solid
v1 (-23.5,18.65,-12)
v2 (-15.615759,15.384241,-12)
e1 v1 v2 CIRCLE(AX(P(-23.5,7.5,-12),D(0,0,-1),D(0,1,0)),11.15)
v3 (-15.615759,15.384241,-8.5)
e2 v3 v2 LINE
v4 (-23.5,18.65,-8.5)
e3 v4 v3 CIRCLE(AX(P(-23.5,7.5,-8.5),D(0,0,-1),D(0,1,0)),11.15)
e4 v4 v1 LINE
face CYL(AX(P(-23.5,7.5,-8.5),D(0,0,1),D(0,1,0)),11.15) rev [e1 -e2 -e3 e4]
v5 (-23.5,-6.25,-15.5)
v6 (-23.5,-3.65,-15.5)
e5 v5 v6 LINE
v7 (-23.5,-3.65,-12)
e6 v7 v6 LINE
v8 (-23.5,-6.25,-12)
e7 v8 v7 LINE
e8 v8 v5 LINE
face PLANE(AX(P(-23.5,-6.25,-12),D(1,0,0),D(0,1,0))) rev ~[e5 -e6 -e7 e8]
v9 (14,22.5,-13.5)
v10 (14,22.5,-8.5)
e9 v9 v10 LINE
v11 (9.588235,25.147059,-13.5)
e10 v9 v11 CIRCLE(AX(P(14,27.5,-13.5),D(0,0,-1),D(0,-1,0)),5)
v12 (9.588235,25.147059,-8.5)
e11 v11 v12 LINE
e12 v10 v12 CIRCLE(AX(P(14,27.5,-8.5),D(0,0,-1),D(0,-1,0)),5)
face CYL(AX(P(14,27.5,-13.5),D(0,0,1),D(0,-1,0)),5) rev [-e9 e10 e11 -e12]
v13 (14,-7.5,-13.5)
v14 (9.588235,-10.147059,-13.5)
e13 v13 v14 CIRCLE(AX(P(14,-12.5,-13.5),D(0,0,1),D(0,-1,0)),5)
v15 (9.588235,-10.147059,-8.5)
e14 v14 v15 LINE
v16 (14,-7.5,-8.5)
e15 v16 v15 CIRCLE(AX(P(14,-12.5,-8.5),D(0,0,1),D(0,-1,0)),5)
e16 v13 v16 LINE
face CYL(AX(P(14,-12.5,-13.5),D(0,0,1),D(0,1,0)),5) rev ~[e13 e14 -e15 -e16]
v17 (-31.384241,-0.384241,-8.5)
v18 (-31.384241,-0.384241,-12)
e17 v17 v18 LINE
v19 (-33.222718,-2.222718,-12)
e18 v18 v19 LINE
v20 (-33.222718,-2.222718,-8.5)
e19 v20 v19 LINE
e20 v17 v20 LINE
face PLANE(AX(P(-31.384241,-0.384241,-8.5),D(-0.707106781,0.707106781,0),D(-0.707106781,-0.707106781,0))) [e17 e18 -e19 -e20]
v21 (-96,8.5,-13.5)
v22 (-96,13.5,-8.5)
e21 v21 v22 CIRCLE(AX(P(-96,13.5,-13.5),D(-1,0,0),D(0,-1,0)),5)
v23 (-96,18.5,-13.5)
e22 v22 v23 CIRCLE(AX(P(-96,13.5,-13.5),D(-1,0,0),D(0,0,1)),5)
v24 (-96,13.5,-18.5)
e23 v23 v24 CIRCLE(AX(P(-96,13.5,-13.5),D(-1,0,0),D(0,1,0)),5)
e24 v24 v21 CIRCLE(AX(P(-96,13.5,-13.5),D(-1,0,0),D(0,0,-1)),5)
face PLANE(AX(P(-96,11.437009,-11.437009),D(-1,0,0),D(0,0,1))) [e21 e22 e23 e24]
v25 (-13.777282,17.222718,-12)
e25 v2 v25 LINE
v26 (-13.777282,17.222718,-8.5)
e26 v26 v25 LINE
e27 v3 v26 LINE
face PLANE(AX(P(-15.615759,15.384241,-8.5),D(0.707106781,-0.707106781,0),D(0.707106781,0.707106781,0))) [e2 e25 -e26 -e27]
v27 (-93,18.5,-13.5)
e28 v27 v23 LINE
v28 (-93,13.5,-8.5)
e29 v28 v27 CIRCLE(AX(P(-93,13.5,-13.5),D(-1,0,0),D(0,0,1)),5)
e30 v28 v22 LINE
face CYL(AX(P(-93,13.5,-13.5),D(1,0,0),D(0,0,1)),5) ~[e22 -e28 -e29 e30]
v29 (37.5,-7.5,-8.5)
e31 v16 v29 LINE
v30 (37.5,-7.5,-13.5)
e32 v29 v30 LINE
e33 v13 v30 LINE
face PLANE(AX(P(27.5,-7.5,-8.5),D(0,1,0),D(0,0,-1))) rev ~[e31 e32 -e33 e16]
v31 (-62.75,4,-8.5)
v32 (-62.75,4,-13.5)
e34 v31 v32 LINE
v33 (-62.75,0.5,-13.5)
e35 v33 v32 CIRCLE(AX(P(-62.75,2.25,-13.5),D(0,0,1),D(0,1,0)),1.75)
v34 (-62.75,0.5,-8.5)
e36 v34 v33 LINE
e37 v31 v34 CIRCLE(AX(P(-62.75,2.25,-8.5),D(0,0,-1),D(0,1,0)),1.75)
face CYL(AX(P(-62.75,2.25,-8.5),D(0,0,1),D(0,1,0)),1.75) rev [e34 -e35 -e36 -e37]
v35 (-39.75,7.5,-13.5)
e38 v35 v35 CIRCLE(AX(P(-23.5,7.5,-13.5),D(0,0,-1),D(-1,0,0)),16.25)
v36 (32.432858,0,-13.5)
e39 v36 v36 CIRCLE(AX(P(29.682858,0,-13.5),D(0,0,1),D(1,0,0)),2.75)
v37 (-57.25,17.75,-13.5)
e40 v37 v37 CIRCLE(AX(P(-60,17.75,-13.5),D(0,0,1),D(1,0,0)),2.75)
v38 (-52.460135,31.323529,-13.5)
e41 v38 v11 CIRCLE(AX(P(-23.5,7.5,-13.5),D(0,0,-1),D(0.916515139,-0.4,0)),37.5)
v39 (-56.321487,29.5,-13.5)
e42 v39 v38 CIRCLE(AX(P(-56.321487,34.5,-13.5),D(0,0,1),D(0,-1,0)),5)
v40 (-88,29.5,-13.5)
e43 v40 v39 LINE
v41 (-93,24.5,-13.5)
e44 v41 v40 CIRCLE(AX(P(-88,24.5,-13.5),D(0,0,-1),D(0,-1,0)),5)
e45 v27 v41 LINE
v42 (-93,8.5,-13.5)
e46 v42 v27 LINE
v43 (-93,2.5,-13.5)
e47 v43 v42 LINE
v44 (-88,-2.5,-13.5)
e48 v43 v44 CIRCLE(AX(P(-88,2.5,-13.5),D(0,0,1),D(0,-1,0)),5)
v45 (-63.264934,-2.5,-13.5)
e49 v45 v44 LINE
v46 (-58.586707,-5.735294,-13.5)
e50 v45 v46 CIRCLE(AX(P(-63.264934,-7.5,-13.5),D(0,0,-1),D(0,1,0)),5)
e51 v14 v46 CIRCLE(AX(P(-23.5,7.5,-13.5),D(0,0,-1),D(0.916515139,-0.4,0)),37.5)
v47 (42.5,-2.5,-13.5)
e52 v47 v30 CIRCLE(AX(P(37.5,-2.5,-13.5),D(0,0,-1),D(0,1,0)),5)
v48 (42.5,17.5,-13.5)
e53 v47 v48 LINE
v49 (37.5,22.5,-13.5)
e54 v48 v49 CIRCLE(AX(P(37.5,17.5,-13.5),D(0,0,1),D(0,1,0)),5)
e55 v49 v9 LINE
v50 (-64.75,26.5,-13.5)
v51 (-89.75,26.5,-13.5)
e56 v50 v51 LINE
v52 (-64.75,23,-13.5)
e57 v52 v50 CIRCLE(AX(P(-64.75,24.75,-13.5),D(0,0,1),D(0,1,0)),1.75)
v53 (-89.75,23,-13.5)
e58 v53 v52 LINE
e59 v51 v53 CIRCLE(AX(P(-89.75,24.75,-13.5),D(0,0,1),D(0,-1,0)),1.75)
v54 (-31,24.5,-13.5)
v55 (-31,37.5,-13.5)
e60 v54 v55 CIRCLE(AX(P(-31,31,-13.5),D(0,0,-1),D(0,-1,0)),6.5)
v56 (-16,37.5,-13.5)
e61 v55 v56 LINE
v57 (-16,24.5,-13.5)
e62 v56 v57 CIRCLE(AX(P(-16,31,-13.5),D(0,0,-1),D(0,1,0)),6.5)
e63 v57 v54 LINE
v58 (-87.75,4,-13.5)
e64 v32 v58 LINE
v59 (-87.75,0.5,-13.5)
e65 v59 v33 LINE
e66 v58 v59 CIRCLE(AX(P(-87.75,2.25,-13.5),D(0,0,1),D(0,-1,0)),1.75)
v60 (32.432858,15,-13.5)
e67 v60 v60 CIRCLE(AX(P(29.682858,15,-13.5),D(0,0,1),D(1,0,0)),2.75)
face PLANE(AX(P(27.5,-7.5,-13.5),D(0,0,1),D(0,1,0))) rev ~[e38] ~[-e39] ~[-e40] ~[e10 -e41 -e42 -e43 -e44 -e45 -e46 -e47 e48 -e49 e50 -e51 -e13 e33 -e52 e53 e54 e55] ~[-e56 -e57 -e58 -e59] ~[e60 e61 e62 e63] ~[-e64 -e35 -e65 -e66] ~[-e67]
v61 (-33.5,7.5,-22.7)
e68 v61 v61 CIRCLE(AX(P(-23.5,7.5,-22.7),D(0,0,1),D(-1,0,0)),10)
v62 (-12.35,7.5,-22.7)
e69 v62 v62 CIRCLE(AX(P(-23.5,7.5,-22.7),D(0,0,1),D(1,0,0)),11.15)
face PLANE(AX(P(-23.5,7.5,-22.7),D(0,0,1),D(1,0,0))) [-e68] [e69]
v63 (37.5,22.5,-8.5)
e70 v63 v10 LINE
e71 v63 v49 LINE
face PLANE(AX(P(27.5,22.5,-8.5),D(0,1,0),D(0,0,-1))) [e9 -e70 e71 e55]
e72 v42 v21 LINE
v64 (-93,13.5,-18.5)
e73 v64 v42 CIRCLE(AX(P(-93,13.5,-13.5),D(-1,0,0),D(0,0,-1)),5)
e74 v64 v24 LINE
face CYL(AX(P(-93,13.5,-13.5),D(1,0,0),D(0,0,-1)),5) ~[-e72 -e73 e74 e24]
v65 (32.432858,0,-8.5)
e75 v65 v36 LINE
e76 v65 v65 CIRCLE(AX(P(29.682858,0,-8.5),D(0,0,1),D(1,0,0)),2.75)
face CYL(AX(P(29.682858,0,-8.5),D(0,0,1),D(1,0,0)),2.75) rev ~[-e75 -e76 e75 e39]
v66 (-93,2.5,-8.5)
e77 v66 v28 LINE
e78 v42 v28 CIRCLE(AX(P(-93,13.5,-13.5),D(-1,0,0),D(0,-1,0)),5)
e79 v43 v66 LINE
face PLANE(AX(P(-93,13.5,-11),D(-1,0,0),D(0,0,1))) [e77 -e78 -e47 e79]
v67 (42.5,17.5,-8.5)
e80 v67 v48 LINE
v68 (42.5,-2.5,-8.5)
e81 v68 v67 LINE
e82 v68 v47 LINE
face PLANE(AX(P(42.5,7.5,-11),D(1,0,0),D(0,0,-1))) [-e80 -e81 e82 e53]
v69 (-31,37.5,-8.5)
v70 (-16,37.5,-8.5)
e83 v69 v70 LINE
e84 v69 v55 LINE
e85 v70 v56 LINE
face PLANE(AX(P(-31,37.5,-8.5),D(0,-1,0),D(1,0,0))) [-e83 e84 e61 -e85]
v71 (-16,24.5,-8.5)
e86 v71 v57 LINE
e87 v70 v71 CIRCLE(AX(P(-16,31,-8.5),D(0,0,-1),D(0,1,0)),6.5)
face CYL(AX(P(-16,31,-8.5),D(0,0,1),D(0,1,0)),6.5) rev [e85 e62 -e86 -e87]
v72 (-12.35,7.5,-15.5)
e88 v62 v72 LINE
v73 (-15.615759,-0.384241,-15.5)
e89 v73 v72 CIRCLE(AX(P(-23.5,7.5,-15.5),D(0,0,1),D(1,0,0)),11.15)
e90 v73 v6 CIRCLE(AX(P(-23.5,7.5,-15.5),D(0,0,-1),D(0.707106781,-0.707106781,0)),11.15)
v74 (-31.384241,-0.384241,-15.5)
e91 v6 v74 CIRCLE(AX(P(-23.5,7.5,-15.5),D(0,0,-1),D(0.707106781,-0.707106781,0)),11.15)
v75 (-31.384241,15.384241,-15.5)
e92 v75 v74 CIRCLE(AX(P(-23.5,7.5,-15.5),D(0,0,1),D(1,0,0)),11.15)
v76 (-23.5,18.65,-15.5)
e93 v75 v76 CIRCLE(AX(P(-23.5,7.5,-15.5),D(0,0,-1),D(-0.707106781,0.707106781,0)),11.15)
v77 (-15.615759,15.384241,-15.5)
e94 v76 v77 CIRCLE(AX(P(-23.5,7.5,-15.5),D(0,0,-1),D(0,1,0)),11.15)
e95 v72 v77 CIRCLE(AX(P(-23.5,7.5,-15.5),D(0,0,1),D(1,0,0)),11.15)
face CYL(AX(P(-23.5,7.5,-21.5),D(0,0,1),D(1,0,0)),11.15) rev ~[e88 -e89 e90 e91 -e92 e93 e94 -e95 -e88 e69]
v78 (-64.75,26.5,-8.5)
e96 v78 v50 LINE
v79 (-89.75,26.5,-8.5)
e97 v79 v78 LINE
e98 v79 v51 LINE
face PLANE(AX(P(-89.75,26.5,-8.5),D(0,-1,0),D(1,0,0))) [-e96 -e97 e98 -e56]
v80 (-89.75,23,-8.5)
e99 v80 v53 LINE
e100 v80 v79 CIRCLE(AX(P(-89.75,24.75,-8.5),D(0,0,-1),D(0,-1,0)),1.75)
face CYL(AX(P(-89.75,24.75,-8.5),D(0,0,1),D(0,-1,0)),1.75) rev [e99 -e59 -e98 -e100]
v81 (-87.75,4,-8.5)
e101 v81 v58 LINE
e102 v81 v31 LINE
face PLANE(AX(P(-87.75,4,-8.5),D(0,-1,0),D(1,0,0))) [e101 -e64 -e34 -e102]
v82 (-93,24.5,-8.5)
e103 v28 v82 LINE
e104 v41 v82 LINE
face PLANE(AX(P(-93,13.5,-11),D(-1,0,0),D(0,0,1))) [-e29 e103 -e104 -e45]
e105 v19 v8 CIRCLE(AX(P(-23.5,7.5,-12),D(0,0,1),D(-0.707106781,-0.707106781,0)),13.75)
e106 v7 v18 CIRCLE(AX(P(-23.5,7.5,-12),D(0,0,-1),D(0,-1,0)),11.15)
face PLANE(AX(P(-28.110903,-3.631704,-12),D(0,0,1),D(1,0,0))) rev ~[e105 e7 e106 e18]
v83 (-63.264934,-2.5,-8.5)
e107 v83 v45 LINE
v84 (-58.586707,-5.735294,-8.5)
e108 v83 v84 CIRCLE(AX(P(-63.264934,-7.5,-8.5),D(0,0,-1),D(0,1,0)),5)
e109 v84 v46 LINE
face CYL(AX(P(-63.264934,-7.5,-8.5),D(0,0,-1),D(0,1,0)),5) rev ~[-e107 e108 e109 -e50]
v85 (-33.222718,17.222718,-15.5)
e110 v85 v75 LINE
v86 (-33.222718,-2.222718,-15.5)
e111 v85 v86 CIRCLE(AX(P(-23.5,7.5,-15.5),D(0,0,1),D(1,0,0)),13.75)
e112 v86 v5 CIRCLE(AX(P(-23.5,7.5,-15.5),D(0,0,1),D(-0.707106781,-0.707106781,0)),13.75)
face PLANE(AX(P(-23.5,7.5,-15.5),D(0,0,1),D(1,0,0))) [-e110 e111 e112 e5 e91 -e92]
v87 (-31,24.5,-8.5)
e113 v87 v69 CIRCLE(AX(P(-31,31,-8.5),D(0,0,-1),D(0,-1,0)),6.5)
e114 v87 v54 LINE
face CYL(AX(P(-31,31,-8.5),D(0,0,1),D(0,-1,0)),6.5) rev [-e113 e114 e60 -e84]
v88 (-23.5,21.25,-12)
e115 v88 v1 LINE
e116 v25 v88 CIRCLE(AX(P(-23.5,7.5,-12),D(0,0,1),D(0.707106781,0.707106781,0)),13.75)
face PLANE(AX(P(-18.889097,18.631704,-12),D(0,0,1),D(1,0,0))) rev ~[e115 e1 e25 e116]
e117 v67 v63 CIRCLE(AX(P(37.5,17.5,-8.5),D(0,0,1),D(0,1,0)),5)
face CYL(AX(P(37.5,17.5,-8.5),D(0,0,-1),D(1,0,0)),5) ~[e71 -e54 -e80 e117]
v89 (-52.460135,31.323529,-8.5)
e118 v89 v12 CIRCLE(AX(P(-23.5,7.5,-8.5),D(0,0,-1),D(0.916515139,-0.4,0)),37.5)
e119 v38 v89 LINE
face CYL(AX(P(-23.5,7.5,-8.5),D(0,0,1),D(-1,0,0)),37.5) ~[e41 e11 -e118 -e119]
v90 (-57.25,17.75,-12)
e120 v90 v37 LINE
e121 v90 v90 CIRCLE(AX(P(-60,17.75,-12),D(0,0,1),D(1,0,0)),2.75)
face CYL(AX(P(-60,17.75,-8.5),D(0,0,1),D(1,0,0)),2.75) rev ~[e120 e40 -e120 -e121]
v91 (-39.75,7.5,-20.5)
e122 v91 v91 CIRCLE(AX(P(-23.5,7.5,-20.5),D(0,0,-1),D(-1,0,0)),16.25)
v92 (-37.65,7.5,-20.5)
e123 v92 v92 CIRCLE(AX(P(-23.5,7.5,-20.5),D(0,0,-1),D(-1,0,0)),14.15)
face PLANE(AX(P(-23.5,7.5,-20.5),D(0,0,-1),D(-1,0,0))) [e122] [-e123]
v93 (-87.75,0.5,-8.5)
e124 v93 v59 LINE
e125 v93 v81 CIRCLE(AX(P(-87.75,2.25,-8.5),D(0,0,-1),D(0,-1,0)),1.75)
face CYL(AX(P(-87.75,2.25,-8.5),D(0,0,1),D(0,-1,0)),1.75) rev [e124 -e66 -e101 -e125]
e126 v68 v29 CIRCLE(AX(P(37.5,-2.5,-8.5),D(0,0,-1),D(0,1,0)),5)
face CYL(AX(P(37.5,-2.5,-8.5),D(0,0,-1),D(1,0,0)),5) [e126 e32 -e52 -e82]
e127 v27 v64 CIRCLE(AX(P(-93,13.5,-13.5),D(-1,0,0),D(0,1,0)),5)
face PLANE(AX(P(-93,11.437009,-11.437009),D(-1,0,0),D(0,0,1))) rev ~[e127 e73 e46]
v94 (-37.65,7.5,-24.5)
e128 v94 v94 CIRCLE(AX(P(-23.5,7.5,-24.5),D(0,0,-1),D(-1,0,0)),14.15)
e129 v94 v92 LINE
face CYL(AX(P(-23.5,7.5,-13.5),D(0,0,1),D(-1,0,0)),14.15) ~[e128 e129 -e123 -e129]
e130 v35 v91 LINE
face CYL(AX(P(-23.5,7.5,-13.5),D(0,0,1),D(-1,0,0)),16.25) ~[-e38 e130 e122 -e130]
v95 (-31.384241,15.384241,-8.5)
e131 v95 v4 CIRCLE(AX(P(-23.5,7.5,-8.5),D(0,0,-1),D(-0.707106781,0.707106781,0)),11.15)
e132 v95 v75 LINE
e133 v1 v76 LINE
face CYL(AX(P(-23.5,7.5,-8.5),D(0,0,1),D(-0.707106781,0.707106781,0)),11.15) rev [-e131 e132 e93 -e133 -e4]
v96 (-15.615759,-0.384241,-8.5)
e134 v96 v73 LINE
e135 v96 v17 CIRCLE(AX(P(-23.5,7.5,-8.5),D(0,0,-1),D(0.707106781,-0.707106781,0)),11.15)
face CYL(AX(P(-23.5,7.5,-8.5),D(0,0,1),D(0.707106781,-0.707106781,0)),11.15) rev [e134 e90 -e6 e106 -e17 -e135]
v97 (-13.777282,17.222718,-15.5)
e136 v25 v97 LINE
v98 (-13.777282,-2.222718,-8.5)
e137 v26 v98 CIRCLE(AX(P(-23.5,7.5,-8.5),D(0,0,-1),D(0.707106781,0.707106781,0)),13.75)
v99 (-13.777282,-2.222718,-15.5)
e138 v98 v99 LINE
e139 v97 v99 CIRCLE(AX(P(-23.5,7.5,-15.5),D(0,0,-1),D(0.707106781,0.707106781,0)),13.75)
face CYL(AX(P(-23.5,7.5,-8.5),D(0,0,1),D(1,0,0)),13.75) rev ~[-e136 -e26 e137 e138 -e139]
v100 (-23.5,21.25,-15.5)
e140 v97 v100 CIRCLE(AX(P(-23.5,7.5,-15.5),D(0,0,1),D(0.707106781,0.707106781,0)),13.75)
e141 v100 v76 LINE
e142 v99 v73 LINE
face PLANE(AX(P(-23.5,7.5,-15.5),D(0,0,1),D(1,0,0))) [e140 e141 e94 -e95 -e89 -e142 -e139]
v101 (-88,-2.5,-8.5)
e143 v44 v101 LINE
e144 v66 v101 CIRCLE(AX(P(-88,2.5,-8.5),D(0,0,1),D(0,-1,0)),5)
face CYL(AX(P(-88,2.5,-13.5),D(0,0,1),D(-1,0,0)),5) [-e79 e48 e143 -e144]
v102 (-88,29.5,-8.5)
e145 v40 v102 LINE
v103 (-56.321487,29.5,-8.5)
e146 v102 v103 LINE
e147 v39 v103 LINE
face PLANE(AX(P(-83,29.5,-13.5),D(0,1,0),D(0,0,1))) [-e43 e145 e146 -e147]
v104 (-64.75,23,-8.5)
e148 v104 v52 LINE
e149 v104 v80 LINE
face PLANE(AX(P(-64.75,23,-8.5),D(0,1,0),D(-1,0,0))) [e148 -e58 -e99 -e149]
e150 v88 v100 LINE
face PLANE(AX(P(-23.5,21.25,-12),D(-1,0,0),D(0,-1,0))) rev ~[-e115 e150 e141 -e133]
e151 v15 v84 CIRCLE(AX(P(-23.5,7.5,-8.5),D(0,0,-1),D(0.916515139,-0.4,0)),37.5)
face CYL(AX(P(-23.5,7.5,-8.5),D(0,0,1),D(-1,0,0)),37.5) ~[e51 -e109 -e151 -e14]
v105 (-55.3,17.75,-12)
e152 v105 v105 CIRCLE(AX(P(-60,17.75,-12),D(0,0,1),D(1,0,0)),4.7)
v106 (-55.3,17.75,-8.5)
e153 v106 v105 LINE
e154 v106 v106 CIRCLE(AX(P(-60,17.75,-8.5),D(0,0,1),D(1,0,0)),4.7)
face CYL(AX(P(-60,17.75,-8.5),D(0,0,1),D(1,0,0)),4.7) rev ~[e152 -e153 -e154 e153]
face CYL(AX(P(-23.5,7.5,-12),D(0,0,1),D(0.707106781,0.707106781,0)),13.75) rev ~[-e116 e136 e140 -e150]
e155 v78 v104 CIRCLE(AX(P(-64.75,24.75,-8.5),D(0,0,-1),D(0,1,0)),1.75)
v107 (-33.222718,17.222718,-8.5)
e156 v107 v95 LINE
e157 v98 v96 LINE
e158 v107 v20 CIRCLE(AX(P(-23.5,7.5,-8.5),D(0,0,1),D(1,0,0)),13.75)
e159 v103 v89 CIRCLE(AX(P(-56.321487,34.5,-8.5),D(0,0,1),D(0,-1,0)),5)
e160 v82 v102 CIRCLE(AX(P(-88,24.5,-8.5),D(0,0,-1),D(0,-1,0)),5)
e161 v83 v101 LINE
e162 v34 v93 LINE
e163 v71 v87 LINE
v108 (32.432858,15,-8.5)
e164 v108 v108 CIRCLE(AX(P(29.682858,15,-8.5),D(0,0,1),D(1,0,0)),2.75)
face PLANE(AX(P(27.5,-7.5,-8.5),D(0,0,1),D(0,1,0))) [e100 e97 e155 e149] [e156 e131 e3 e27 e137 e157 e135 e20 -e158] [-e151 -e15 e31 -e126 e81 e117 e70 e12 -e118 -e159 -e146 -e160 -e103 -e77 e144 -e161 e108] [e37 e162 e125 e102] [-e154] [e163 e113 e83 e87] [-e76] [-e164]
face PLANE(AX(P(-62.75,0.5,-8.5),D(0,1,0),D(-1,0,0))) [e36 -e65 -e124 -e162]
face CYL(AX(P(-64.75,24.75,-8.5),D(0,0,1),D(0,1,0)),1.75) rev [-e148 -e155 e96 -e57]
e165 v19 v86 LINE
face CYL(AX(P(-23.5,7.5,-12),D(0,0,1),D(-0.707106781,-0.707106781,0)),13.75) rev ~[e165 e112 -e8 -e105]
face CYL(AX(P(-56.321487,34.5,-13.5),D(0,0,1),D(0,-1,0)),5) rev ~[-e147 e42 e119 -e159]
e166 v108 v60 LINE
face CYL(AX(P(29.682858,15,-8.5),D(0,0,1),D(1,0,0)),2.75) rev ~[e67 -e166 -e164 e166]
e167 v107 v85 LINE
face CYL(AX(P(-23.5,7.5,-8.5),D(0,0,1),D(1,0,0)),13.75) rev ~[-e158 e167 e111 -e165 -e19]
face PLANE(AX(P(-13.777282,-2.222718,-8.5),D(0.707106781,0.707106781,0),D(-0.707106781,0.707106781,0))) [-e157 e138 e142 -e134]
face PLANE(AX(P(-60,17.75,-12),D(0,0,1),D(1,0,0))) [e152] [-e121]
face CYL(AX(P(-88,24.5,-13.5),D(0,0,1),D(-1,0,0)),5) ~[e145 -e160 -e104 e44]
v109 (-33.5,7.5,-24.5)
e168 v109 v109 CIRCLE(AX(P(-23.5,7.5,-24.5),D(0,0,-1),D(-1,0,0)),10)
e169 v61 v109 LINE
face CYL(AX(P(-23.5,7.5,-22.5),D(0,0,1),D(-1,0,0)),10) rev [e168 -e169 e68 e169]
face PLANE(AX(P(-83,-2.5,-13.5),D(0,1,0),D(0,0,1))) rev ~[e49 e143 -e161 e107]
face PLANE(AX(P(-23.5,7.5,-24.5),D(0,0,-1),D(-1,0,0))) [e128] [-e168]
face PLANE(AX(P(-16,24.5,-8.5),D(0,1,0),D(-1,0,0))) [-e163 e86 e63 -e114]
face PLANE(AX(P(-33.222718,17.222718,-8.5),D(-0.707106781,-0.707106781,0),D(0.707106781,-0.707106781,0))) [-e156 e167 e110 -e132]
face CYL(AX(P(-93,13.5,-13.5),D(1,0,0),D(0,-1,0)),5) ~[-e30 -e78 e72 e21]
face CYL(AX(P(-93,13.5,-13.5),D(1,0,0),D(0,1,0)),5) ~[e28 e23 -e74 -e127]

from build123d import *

# Parameters (mm, degrees)
SKETCH2_R                = 37.5
SKETCH2_R_2              = 4.2
BOSS_EXTRUDE1_DEPTH      = 5
SKETCH3_R                = 11.15
CUT_EXTRUDE1_DEPTH       = 76.967098141
SKETCH5_R                = 14.15
SKETCH5_R_2              = 11.15
BOSS_EXTRUDE2_DEPTH      = 10
BOSS_EXTRUDE3_START      = -2
SKETCH6_R                = 14.15
SKETCH6_R_2              = 9
BOSS_EXTRUDE3_DEPTH      = 2
SKETCH7_R                = 11.15
CUT_EXTRUDE2_DEPTH       = 10
SKETCH8_R                = 14.15
SKETCH8_R_2              = 10
BOSS_EXTRUDE4_DEPTH      = 2
BOSS_EXTRUDE5_DEPTH      = 5
BOSS_EXTRUDE5_DEPTH_BACK = 5
SKETCH10_W               = 10
SKETCH10_H               = 30
BOSS_EXTRUDE6_DEPTH      = 10
CUT_EXTRUDE3_START       = -5
CUT_EXTRUDE3_DEPTH       = 5
SKETCH12_R               = 2.75
CUT_EXTRUDE4_DEPTH       = 78.472575793
BOSS_EXTRUDE7_DEPTH      = 5
SKETCH15_R               = 13.75
CUT_EXTRUDE5_DEPTH       = 7
SKETCH17_R               = 16.25
SKETCH17_R_2             = 14.15
BOSS_EXTRUDE8_DEPTH      = 7
BOSS_EXTRUDE9_START      = 7
BOSS_EXTRUDE9_DEPTH      = 7
CUT_EXTRUDE7_START       = 3.5
CUT_EXTRUDE7_DEPTH       = 3.5
SKETCH20_R               = 11.15
CUT_EXTRUDE8_DEPTH       = 0.2
BOSS_EXTRUDE10_DEPTH     = 5
SKETCH22_W               = 5
SKETCH22_H               = 20
BOSS_EXTRUDE11_DEPTH     = 7
SKETCH23_W               = 23.357919263
SKETCH23_H               = 5
BOSS_EXTRUDE12_DEPTH     = 12
SKETCH24_W               = 5
SKETCH24_H               = 12
BOSS_EXTRUDE13_DEPTH     = 12
SKETCH25_W               = 5
SKETCH25_H               = 32
BOSS_EXTRUDE14_DEPTH     = 10
CUT_EXTRUDE9_DEPTH       = 105.546640309
FILLET2_R                = 5
SKETCH27_W               = 14.087346568
SKETCH27_H               = 5
CUT_EXTRUDE10_DEPTH      = 110.569612576
SKETCH28_R               = 2.75
BOSS_EXTRUDE15_DEPTH     = 5
SKETCH29_W               = 5
SKETCH29_H               = 30
BOSS_EXTRUDE16_DEPTH     = 15
SKETCH30_R               = 2.75
CUT_EXTRUDE12_DEPTH      = 15
FILLET3_R                = 5
BOSS_EXTRUDE18_DEPTH     = 3
SKETCH34_R               = 2.75
CUT_EXTRUDE13_DEPTH      = 108.224064463
SKETCH35_R               = 4.7
CUT_EXTRUDE14_DEPTH      = 3.5


with BuildPart() as part:
    # Sketch2 → Boss-Extrude1 (new body)
    with BuildSketch(Plane(origin=(0, 0, -8.5), x_dir=(-1, 0, 0), z_dir=(0, 0, -1))):
        with Locations((23.5, 7.5)):
            Circle(SKETCH2_R)
        with Locations((23.5, 7.5)):
            Circle(SKETCH2_R_2, mode=Mode.SUBTRACT)
        with BuildLine():
            ThreePointArc((31, 24.5), (37.5, 31), (31, 37.5))
            Line((31, 37.5), (16, 37.5))
            ThreePointArc((16, 37.5), (9.5, 31), (16, 24.5))
            Line((16, 24.5), (31, 24.5))
        make_face(mode=Mode.SUBTRACT)
    extrude(amount=BOSS_EXTRUDE1_DEPTH)

    # Sketch3 → Cut-Extrude1 (cut, through all)
    with BuildSketch(Plane.XY.offset(-8.5)):
        with Locations((-23.5, 7.5)):
            Circle(SKETCH3_R)
    extrude(amount=-CUT_EXTRUDE1_DEPTH, mode=Mode.SUBTRACT)

    # Sketch5 → Boss-Extrude2 (add)
    with BuildSketch(Plane(origin=(0, 0, -13.5), x_dir=(-1, 0, 0), z_dir=(0, 0, -1))):
        with Locations((23.5, 7.5)):
            Circle(SKETCH5_R)
        with Locations(Location((23.5, 7.5, 0), (0, 0, 180))):
            Circle(SKETCH5_R_2, mode=Mode.SUBTRACT)
    extrude(amount=BOSS_EXTRUDE2_DEPTH)

    # Sketch6 → Boss-Extrude3 (add)
    with BuildSketch(Plane(origin=(0, 0, -23.5), x_dir=(-1, 0, 0), z_dir=(0, 0, -1)).offset(BOSS_EXTRUDE3_START)):
        with Locations((23.5, 7.5)):
            Circle(SKETCH6_R)
        with Locations((23.5, 7.5)):
            Circle(SKETCH6_R_2, mode=Mode.SUBTRACT)
    extrude(amount=BOSS_EXTRUDE3_DEPTH)

    # Sketch7 → Cut-Extrude2 (cut)
    with BuildSketch(Plane.XY.offset(-21.5)):
        with Locations((-23.5, 7.5)):
            Circle(SKETCH7_R)
    extrude(amount=-CUT_EXTRUDE2_DEPTH, mode=Mode.SUBTRACT)

    # Sketch8 → Boss-Extrude4 (add)
    with BuildSketch(Plane(origin=(0, 0, -22.5), x_dir=(-1, 0, 0), z_dir=(0, 0, -1))):
        with Locations((23.5, 7.5)):
            Circle(SKETCH8_R)
        with Locations((23.5, 7.5)):
            Circle(SKETCH8_R_2, mode=Mode.SUBTRACT)
    extrude(amount=BOSS_EXTRUDE4_DEPTH)

    # Sketch9 → Boss-Extrude5 (add, two sides: drawn at the far end of the back side and taken through both)
    with BuildSketch(Plane.XY.offset(-8.5).offset(-BOSS_EXTRUDE5_DEPTH_BACK)):
        with BuildLine():
            Line((17.5, 22.5), (10.869317712, 22.5))
            ThreePointArc((10.869317712, 22.5), (13.208986735, 15.161611638), (14, 7.5))
            ThreePointArc((14, 7.5), (13.208986735, -0.161611638), (10.869317712, -7.5))
            Line((10.869317712, -7.5), (17.5, -7.5))
            Line((17.5, -7.5), (17.5, 22.5))
        make_face()
        with BuildLine():
            Line((10.869317712, 22.5), (8.122776602, 22.5))
            ThreePointArc((8.122776602, 22.5), (10.645257219, 15.187744108), (11.5, 7.5))
            ThreePointArc((11.5, 7.5), (10.645257219, -0.187744108), (8.122776602, -7.5))
            Line((8.122776602, -7.5), (10.869317712, -7.5))
            ThreePointArc((10.869317712, -7.5), (13.208986735, -0.161611638), (14, 7.5))
            ThreePointArc((14, 7.5), (13.208986735, 15.161611638), (10.869317712, 22.5))
        make_face()
    extrude(amount=BOSS_EXTRUDE5_DEPTH + BOSS_EXTRUDE5_DEPTH_BACK)

    # Sketch10 → Boss-Extrude6 (add)
    with BuildSketch(Plane(origin=(17.5, 0, 0), x_dir=(0, 0, -1), z_dir=(1, 0, 0))):
        with Locations((8.5, 7.5)):
            Rectangle(SKETCH10_W, SKETCH10_H)
    extrude(amount=BOSS_EXTRUDE6_DEPTH)

    # Sketch11 → Cut-Extrude3 (cut)
    with BuildSketch(Plane.XY.offset(-3.5).offset(CUT_EXTRUDE3_START)):
        with BuildLine():
            Line((27.5, 22.5), (8.122776602, 22.5))
            ThreePointArc((8.122776602, 22.5), (11.5, 7.5), (8.122776602, -7.5))
            Line((8.122776602, -7.5), (27.5, -7.5))
            Line((27.5, -7.5), (27.5, 22.5))
        make_face()
    extrude(amount=CUT_EXTRUDE3_DEPTH, mode=Mode.SUBTRACT)

    # Sketch12 → Cut-Extrude4 (cut, through all)
    with BuildSketch(Plane.XY.offset(-8.5)):
        with Locations((17.5, 15)):
            Circle(SKETCH12_R)
        with Locations((17.5, 0)):
            Circle(SKETCH12_R)
    extrude(amount=-CUT_EXTRUDE4_DEPTH, mode=Mode.SUBTRACT)

    # Sketch13 → Boss-Extrude7 (add)
    # profile 1 of 2: a face of its own
    with BuildSketch(Plane(origin=(0, 0, -13.5), x_dir=(-1, 0, 0), z_dir=(0, 0, -1))):
        Polygon((-21.021836642, -6.1), (-13.978163358, -6.1), (-10.456326716, 0), (-13.978163358, 6.1), (-21.021836642, 6.1), (-24.543673284, 0), align=None)
        Polygon((-22.234272207, 0), (-19.867136104, -4.1), (-15.132863896, -4.1), (-12.765727793, 0), (-15.132863896, 4.1), (-19.867136104, 4.1), align=None, mode=Mode.SUBTRACT)
    # profile 2 of 2: a face of its own
    with BuildSketch(Plane(origin=(0, 0, -13.5), x_dir=(-1, 0, 0), z_dir=(0, 0, -1))):
        Polygon((-21.021836642, 8.9), (-13.978163358, 8.9), (-10.456326716, 15), (-13.978163358, 21.1), (-21.021836642, 21.1), (-24.543673284, 15), align=None)
        Polygon((-22.234272207, 15), (-19.867136104, 10.9), (-15.132863896, 10.9), (-12.765727793, 15), (-15.132863896, 19.1), (-19.867136104, 19.1), align=None, mode=Mode.SUBTRACT)
    extrude(amount=BOSS_EXTRUDE7_DEPTH)

    # Sketch15 → Cut-Extrude5 (cut)
    with BuildSketch(Plane.XY.offset(-8.5)):
        with Locations((-23.5, 7.5)):
            Circle(SKETCH15_R)
    extrude(amount=-CUT_EXTRUDE5_DEPTH, mode=Mode.SUBTRACT)

    # Sketch17 → Boss-Extrude8 (add)
    with BuildSketch(Plane(origin=(0, 0, -13.5), x_dir=(-1, 0, 0), z_dir=(0, 0, -1))):
        with Locations((23.5, 7.5)):
            Circle(SKETCH17_R)
        with Locations((23.5, 7.5)):
            Circle(SKETCH17_R_2, mode=Mode.SUBTRACT)
    extrude(amount=BOSS_EXTRUDE8_DEPTH)

    # Sketch18 → Boss-Extrude9 (add)
    with BuildSketch(Plane.XY.offset(-15.5).offset(BOSS_EXTRUDE9_START)):
        with BuildLine():
            ThreePointArc((-31.38424061, 15.38424061), (-27.766920271, 17.801256788), (-23.5, 18.65))
            Line((-23.5, 18.65), (-23.5, 21.25))
            ThreePointArc((-23.5, 21.25), (-28.761897195, 20.203343572), (-33.222718241, 17.222718241))
            Line((-33.222718241, 17.222718241), (-31.38424061, 15.38424061))
        make_face()
        with BuildLine():
            Line((-23.5, 21.25), (-23.5, 18.65))
            ThreePointArc((-23.5, 18.65), (-19.233079729, 17.801256788), (-15.61575939, 15.38424061))
            Line((-15.61575939, 15.38424061), (-13.777281759, 17.222718241))
            ThreePointArc((-13.777281759, 17.222718241), (-18.238102805, 20.203343572), (-23.5, 21.25))
        make_face()
        with BuildLine():
            ThreePointArc((-15.61575939, -0.38424061), (-23.5, -3.65), (-31.38424061, -0.38424061))
            Line((-31.38424061, -0.38424061), (-33.222718241, -2.222718241))
            ThreePointArc((-33.222718241, -2.222718241), (-23.5, -6.25), (-13.777281759, -2.222718241))
            Line((-13.777281759, -2.222718241), (-15.61575939, -0.38424061))
        make_face()
    extrude(amount=-BOSS_EXTRUDE9_DEPTH)

    # Sketch19 → Cut-Extrude7 (cut)
    with BuildSketch(Plane.XY.offset(-15.5).offset(CUT_EXTRUDE7_START)):
        with BuildLine():
            Line((-23.5, 21.25), (-23.5, 18.65))
            ThreePointArc((-23.5, 18.65), (-19.233079729, 17.801256788), (-15.61575939, 15.38424061))
            Line((-15.61575939, 15.38424061), (-13.777281759, 17.222718241))
            ThreePointArc((-13.777281759, 17.222718241), (-18.238102805, 20.203343572), (-23.5, 21.25))
        make_face()
        with BuildLine():
            Line((-23.5, -6.25), (-23.5, -3.65))
            ThreePointArc((-23.5, -3.65), (-27.766920271, -2.801256788), (-31.38424061, -0.38424061))
            Line((-31.38424061, -0.38424061), (-33.222718241, -2.222718241))
            ThreePointArc((-33.222718241, -2.222718241), (-28.761897195, -5.203343572), (-23.5, -6.25))
        make_face()
    extrude(amount=-CUT_EXTRUDE7_DEPTH, mode=Mode.SUBTRACT)

    # Sketch20 → Cut-Extrude8 (cut)
    with BuildSketch(Plane.XY.offset(-22.5)):
        with Locations((-23.5, 7.5)):
            Circle(SKETCH20_R)
    extrude(amount=-CUT_EXTRUDE8_DEPTH, mode=Mode.SUBTRACT)

    # Sketch21 → Boss-Extrude10 (add)
    with BuildSketch(Plane.XY.offset(-8.5)):
        with BuildLine():
            Line((-76, 7.5), (-61, 7.5))
            ThreePointArc((-61, 7.5), (-60.658969493, 12.545888047), (-59.642080737, 17.5))
            Line((-59.642080737, 17.5), (-61, 17.5))
            Line((-61, 17.5), (-76, 17.5))
            Line((-76, 17.5), (-76, 7.5))
        make_face()
        with BuildLine():
            ThreePointArc((-59.642080737, -2.5), (-60.658969493, 2.454111953), (-61, 7.5))
            Line((-61, 7.5), (-76, 7.5))
            Line((-76, 7.5), (-76, -2.5))
            Line((-76, -2.5), (-61, -2.5))
            Line((-61, -2.5), (-59.642080737, -2.5))
        make_face()
    extrude(amount=-BOSS_EXTRUDE10_DEPTH)

    # Sketch22 → Boss-Extrude11 (add)
    with BuildSketch(Plane.ZY.offset(76)):
        with Locations((-11, 7.5)):
            Rectangle(SKETCH22_W, SKETCH22_H)
    extrude(amount=BOSS_EXTRUDE11_DEPTH)

    # Sketch23 → Boss-Extrude12 (add)
    with BuildSketch(Plane(origin=(0, 17.5, 0), x_dir=(1, 0, 0), z_dir=(0, 1, 0))):
        with Locations((-71.321040369, 11)):
            Rectangle(SKETCH23_W, SKETCH23_H)
    extrude(amount=BOSS_EXTRUDE12_DEPTH)

    # Sketch24 → Boss-Extrude13 (add)
    with BuildSketch(Plane(origin=(-59.642080737, 0, 0), x_dir=(0, 0, -1), z_dir=(1, 0, 0))):
        with Locations((11, 23.5)):
            Rectangle(SKETCH24_W, SKETCH24_H)
    extrude(amount=BOSS_EXTRUDE13_DEPTH)

    # Sketch25 → Boss-Extrude14 (add)
    with BuildSketch(Plane.ZY.offset(83)):
        with Locations((-11, 13.5)):
            Rectangle(SKETCH25_W, SKETCH25_H)
    extrude(amount=BOSS_EXTRUDE14_DEPTH)

    # Sketch26 → Cut-Extrude9 (cut, through all)
    with BuildSketch(Plane.XY.offset(-8.5)):
        with BuildLine():
            Line((-64.75, 23), (-89.75, 23))
            ThreePointArc((-89.75, 23), (-91.5, 24.75), (-89.75, 26.5))
            Line((-89.75, 26.5), (-64.75, 26.5))
            ThreePointArc((-64.75, 26.5), (-63, 24.75), (-64.75, 23))
        make_face()
        with BuildLine():
            Line((-87.75, 4), (-62.75, 4))
            ThreePointArc((-62.75, 4), (-61, 2.25), (-62.75, 0.5))
            Line((-62.75, 0.5), (-87.75, 0.5))
            ThreePointArc((-87.75, 0.5), (-89.5, 2.25), (-87.75, 4))
        make_face()
    extrude(amount=-CUT_EXTRUDE9_DEPTH, mode=Mode.SUBTRACT)

    # Fillet2
    fillet2_edges = [part.edges().sort_by_distance(p)[0] for p in [
        (-59.642080737, -2.5, -11),
        (-53.868569278, 29.5, -11),
        (-93, -2.5, -11),
        (-93, 29.5, -11),
    ]]
    fillet(fillet2_edges, radius=FILLET2_R)

    # Sketch27 → Cut-Extrude10 (cut, through all)
    with BuildSketch(Plane(origin=(0, 22.5, 0), x_dir=(1, 0, 0), z_dir=(0, 1, 0))):
        with Locations((17.5, 16)):
            Rectangle(SKETCH27_W, SKETCH27_H)
    extrude(amount=-CUT_EXTRUDE10_DEPTH, mode=Mode.SUBTRACT)

    # Sketch28 → Boss-Extrude15 (add)
    with BuildSketch(Plane.XY.offset(-8.5)):
        with Locations((17.5, 0)):
            Circle(SKETCH28_R)
        with Locations((17.5, 15)):
            Circle(SKETCH28_R)
    extrude(amount=-BOSS_EXTRUDE15_DEPTH)

    # Sketch29 → Boss-Extrude16 (add)
    with BuildSketch(Plane(origin=(27.5, 0, 0), x_dir=(0, 0, -1), z_dir=(1, 0, 0))):
        with Locations((11, 7.5)):
            Rectangle(SKETCH29_W, SKETCH29_H)
    extrude(amount=BOSS_EXTRUDE16_DEPTH)

    # Sketch30 → Cut-Extrude12 (cut)
    with BuildSketch(Plane.XY.offset(-8.5)):
        with Locations((29.682858342, 15)):
            Circle(SKETCH30_R)
        with Locations((29.682858342, 0)):
            Circle(SKETCH30_R)
    extrude(amount=-CUT_EXTRUDE12_DEPTH, mode=Mode.SUBTRACT)

    # Fillet3
    fillet3_edges = [part.edges().sort_by_distance(p)[0] for p in [
        (42.5, 22.5, -11),
        (42.5, -7.5, -11),
        (10.869317712, 22.5, -11),
        (10.869317712, -7.5, -11),
    ]]
    fillet(fillet3_edges, radius=FILLET3_R)

    # Sketch33 → Boss-Extrude18 (add)
    with BuildSketch(Plane.ZY.offset(93)):
        with BuildLine():
            ThreePointArc((-13.5, 8.5), (-9.964466094, 9.964466094), (-8.5, 13.5))
            Line((-8.5, 13.5), (-13.5, 13.5))
            Line((-13.5, 13.5), (-13.5, 8.5))
        make_face()
        with BuildLine():
            Line((-13.5, 13.5), (-8.5, 13.5))
            ThreePointArc((-8.5, 13.5), (-9.964466094, 17.035533906), (-13.5, 18.5))
            Line((-13.5, 18.5), (-13.5, 13.5))
        make_face()
        with BuildLine():
            Line((-13.5, 8.5), (-13.5, 13.5))
            Line((-13.5, 13.5), (-18.5, 13.5))
            ThreePointArc((-18.5, 13.5), (-17.035533906, 9.964466094), (-13.5, 8.5))
        make_face()
        with BuildLine():
            Line((-18.5, 13.5), (-13.5, 13.5))
            Line((-13.5, 13.5), (-13.5, 18.5))
            ThreePointArc((-13.5, 18.5), (-17.035533906, 17.035533906), (-18.5, 13.5))
        make_face()
    extrude(amount=BOSS_EXTRUDE18_DEPTH)

    # Sketch34 → Cut-Extrude13 (cut, through all)
    with BuildSketch(Plane.XY.offset(-8.5)):
        with Locations((-60, 17.75)):
            Circle(SKETCH34_R)
    extrude(amount=-CUT_EXTRUDE13_DEPTH, mode=Mode.SUBTRACT)

    # Sketch35 → Cut-Extrude14 (cut)
    with BuildSketch(Plane.XY.offset(-8.5)):
        with Locations((-60, 17.75)):
            Circle(SKETCH35_R)
    extrude(amount=-CUT_EXTRUDE14_DEPTH, mode=Mode.SUBTRACT)


solid = part.part
